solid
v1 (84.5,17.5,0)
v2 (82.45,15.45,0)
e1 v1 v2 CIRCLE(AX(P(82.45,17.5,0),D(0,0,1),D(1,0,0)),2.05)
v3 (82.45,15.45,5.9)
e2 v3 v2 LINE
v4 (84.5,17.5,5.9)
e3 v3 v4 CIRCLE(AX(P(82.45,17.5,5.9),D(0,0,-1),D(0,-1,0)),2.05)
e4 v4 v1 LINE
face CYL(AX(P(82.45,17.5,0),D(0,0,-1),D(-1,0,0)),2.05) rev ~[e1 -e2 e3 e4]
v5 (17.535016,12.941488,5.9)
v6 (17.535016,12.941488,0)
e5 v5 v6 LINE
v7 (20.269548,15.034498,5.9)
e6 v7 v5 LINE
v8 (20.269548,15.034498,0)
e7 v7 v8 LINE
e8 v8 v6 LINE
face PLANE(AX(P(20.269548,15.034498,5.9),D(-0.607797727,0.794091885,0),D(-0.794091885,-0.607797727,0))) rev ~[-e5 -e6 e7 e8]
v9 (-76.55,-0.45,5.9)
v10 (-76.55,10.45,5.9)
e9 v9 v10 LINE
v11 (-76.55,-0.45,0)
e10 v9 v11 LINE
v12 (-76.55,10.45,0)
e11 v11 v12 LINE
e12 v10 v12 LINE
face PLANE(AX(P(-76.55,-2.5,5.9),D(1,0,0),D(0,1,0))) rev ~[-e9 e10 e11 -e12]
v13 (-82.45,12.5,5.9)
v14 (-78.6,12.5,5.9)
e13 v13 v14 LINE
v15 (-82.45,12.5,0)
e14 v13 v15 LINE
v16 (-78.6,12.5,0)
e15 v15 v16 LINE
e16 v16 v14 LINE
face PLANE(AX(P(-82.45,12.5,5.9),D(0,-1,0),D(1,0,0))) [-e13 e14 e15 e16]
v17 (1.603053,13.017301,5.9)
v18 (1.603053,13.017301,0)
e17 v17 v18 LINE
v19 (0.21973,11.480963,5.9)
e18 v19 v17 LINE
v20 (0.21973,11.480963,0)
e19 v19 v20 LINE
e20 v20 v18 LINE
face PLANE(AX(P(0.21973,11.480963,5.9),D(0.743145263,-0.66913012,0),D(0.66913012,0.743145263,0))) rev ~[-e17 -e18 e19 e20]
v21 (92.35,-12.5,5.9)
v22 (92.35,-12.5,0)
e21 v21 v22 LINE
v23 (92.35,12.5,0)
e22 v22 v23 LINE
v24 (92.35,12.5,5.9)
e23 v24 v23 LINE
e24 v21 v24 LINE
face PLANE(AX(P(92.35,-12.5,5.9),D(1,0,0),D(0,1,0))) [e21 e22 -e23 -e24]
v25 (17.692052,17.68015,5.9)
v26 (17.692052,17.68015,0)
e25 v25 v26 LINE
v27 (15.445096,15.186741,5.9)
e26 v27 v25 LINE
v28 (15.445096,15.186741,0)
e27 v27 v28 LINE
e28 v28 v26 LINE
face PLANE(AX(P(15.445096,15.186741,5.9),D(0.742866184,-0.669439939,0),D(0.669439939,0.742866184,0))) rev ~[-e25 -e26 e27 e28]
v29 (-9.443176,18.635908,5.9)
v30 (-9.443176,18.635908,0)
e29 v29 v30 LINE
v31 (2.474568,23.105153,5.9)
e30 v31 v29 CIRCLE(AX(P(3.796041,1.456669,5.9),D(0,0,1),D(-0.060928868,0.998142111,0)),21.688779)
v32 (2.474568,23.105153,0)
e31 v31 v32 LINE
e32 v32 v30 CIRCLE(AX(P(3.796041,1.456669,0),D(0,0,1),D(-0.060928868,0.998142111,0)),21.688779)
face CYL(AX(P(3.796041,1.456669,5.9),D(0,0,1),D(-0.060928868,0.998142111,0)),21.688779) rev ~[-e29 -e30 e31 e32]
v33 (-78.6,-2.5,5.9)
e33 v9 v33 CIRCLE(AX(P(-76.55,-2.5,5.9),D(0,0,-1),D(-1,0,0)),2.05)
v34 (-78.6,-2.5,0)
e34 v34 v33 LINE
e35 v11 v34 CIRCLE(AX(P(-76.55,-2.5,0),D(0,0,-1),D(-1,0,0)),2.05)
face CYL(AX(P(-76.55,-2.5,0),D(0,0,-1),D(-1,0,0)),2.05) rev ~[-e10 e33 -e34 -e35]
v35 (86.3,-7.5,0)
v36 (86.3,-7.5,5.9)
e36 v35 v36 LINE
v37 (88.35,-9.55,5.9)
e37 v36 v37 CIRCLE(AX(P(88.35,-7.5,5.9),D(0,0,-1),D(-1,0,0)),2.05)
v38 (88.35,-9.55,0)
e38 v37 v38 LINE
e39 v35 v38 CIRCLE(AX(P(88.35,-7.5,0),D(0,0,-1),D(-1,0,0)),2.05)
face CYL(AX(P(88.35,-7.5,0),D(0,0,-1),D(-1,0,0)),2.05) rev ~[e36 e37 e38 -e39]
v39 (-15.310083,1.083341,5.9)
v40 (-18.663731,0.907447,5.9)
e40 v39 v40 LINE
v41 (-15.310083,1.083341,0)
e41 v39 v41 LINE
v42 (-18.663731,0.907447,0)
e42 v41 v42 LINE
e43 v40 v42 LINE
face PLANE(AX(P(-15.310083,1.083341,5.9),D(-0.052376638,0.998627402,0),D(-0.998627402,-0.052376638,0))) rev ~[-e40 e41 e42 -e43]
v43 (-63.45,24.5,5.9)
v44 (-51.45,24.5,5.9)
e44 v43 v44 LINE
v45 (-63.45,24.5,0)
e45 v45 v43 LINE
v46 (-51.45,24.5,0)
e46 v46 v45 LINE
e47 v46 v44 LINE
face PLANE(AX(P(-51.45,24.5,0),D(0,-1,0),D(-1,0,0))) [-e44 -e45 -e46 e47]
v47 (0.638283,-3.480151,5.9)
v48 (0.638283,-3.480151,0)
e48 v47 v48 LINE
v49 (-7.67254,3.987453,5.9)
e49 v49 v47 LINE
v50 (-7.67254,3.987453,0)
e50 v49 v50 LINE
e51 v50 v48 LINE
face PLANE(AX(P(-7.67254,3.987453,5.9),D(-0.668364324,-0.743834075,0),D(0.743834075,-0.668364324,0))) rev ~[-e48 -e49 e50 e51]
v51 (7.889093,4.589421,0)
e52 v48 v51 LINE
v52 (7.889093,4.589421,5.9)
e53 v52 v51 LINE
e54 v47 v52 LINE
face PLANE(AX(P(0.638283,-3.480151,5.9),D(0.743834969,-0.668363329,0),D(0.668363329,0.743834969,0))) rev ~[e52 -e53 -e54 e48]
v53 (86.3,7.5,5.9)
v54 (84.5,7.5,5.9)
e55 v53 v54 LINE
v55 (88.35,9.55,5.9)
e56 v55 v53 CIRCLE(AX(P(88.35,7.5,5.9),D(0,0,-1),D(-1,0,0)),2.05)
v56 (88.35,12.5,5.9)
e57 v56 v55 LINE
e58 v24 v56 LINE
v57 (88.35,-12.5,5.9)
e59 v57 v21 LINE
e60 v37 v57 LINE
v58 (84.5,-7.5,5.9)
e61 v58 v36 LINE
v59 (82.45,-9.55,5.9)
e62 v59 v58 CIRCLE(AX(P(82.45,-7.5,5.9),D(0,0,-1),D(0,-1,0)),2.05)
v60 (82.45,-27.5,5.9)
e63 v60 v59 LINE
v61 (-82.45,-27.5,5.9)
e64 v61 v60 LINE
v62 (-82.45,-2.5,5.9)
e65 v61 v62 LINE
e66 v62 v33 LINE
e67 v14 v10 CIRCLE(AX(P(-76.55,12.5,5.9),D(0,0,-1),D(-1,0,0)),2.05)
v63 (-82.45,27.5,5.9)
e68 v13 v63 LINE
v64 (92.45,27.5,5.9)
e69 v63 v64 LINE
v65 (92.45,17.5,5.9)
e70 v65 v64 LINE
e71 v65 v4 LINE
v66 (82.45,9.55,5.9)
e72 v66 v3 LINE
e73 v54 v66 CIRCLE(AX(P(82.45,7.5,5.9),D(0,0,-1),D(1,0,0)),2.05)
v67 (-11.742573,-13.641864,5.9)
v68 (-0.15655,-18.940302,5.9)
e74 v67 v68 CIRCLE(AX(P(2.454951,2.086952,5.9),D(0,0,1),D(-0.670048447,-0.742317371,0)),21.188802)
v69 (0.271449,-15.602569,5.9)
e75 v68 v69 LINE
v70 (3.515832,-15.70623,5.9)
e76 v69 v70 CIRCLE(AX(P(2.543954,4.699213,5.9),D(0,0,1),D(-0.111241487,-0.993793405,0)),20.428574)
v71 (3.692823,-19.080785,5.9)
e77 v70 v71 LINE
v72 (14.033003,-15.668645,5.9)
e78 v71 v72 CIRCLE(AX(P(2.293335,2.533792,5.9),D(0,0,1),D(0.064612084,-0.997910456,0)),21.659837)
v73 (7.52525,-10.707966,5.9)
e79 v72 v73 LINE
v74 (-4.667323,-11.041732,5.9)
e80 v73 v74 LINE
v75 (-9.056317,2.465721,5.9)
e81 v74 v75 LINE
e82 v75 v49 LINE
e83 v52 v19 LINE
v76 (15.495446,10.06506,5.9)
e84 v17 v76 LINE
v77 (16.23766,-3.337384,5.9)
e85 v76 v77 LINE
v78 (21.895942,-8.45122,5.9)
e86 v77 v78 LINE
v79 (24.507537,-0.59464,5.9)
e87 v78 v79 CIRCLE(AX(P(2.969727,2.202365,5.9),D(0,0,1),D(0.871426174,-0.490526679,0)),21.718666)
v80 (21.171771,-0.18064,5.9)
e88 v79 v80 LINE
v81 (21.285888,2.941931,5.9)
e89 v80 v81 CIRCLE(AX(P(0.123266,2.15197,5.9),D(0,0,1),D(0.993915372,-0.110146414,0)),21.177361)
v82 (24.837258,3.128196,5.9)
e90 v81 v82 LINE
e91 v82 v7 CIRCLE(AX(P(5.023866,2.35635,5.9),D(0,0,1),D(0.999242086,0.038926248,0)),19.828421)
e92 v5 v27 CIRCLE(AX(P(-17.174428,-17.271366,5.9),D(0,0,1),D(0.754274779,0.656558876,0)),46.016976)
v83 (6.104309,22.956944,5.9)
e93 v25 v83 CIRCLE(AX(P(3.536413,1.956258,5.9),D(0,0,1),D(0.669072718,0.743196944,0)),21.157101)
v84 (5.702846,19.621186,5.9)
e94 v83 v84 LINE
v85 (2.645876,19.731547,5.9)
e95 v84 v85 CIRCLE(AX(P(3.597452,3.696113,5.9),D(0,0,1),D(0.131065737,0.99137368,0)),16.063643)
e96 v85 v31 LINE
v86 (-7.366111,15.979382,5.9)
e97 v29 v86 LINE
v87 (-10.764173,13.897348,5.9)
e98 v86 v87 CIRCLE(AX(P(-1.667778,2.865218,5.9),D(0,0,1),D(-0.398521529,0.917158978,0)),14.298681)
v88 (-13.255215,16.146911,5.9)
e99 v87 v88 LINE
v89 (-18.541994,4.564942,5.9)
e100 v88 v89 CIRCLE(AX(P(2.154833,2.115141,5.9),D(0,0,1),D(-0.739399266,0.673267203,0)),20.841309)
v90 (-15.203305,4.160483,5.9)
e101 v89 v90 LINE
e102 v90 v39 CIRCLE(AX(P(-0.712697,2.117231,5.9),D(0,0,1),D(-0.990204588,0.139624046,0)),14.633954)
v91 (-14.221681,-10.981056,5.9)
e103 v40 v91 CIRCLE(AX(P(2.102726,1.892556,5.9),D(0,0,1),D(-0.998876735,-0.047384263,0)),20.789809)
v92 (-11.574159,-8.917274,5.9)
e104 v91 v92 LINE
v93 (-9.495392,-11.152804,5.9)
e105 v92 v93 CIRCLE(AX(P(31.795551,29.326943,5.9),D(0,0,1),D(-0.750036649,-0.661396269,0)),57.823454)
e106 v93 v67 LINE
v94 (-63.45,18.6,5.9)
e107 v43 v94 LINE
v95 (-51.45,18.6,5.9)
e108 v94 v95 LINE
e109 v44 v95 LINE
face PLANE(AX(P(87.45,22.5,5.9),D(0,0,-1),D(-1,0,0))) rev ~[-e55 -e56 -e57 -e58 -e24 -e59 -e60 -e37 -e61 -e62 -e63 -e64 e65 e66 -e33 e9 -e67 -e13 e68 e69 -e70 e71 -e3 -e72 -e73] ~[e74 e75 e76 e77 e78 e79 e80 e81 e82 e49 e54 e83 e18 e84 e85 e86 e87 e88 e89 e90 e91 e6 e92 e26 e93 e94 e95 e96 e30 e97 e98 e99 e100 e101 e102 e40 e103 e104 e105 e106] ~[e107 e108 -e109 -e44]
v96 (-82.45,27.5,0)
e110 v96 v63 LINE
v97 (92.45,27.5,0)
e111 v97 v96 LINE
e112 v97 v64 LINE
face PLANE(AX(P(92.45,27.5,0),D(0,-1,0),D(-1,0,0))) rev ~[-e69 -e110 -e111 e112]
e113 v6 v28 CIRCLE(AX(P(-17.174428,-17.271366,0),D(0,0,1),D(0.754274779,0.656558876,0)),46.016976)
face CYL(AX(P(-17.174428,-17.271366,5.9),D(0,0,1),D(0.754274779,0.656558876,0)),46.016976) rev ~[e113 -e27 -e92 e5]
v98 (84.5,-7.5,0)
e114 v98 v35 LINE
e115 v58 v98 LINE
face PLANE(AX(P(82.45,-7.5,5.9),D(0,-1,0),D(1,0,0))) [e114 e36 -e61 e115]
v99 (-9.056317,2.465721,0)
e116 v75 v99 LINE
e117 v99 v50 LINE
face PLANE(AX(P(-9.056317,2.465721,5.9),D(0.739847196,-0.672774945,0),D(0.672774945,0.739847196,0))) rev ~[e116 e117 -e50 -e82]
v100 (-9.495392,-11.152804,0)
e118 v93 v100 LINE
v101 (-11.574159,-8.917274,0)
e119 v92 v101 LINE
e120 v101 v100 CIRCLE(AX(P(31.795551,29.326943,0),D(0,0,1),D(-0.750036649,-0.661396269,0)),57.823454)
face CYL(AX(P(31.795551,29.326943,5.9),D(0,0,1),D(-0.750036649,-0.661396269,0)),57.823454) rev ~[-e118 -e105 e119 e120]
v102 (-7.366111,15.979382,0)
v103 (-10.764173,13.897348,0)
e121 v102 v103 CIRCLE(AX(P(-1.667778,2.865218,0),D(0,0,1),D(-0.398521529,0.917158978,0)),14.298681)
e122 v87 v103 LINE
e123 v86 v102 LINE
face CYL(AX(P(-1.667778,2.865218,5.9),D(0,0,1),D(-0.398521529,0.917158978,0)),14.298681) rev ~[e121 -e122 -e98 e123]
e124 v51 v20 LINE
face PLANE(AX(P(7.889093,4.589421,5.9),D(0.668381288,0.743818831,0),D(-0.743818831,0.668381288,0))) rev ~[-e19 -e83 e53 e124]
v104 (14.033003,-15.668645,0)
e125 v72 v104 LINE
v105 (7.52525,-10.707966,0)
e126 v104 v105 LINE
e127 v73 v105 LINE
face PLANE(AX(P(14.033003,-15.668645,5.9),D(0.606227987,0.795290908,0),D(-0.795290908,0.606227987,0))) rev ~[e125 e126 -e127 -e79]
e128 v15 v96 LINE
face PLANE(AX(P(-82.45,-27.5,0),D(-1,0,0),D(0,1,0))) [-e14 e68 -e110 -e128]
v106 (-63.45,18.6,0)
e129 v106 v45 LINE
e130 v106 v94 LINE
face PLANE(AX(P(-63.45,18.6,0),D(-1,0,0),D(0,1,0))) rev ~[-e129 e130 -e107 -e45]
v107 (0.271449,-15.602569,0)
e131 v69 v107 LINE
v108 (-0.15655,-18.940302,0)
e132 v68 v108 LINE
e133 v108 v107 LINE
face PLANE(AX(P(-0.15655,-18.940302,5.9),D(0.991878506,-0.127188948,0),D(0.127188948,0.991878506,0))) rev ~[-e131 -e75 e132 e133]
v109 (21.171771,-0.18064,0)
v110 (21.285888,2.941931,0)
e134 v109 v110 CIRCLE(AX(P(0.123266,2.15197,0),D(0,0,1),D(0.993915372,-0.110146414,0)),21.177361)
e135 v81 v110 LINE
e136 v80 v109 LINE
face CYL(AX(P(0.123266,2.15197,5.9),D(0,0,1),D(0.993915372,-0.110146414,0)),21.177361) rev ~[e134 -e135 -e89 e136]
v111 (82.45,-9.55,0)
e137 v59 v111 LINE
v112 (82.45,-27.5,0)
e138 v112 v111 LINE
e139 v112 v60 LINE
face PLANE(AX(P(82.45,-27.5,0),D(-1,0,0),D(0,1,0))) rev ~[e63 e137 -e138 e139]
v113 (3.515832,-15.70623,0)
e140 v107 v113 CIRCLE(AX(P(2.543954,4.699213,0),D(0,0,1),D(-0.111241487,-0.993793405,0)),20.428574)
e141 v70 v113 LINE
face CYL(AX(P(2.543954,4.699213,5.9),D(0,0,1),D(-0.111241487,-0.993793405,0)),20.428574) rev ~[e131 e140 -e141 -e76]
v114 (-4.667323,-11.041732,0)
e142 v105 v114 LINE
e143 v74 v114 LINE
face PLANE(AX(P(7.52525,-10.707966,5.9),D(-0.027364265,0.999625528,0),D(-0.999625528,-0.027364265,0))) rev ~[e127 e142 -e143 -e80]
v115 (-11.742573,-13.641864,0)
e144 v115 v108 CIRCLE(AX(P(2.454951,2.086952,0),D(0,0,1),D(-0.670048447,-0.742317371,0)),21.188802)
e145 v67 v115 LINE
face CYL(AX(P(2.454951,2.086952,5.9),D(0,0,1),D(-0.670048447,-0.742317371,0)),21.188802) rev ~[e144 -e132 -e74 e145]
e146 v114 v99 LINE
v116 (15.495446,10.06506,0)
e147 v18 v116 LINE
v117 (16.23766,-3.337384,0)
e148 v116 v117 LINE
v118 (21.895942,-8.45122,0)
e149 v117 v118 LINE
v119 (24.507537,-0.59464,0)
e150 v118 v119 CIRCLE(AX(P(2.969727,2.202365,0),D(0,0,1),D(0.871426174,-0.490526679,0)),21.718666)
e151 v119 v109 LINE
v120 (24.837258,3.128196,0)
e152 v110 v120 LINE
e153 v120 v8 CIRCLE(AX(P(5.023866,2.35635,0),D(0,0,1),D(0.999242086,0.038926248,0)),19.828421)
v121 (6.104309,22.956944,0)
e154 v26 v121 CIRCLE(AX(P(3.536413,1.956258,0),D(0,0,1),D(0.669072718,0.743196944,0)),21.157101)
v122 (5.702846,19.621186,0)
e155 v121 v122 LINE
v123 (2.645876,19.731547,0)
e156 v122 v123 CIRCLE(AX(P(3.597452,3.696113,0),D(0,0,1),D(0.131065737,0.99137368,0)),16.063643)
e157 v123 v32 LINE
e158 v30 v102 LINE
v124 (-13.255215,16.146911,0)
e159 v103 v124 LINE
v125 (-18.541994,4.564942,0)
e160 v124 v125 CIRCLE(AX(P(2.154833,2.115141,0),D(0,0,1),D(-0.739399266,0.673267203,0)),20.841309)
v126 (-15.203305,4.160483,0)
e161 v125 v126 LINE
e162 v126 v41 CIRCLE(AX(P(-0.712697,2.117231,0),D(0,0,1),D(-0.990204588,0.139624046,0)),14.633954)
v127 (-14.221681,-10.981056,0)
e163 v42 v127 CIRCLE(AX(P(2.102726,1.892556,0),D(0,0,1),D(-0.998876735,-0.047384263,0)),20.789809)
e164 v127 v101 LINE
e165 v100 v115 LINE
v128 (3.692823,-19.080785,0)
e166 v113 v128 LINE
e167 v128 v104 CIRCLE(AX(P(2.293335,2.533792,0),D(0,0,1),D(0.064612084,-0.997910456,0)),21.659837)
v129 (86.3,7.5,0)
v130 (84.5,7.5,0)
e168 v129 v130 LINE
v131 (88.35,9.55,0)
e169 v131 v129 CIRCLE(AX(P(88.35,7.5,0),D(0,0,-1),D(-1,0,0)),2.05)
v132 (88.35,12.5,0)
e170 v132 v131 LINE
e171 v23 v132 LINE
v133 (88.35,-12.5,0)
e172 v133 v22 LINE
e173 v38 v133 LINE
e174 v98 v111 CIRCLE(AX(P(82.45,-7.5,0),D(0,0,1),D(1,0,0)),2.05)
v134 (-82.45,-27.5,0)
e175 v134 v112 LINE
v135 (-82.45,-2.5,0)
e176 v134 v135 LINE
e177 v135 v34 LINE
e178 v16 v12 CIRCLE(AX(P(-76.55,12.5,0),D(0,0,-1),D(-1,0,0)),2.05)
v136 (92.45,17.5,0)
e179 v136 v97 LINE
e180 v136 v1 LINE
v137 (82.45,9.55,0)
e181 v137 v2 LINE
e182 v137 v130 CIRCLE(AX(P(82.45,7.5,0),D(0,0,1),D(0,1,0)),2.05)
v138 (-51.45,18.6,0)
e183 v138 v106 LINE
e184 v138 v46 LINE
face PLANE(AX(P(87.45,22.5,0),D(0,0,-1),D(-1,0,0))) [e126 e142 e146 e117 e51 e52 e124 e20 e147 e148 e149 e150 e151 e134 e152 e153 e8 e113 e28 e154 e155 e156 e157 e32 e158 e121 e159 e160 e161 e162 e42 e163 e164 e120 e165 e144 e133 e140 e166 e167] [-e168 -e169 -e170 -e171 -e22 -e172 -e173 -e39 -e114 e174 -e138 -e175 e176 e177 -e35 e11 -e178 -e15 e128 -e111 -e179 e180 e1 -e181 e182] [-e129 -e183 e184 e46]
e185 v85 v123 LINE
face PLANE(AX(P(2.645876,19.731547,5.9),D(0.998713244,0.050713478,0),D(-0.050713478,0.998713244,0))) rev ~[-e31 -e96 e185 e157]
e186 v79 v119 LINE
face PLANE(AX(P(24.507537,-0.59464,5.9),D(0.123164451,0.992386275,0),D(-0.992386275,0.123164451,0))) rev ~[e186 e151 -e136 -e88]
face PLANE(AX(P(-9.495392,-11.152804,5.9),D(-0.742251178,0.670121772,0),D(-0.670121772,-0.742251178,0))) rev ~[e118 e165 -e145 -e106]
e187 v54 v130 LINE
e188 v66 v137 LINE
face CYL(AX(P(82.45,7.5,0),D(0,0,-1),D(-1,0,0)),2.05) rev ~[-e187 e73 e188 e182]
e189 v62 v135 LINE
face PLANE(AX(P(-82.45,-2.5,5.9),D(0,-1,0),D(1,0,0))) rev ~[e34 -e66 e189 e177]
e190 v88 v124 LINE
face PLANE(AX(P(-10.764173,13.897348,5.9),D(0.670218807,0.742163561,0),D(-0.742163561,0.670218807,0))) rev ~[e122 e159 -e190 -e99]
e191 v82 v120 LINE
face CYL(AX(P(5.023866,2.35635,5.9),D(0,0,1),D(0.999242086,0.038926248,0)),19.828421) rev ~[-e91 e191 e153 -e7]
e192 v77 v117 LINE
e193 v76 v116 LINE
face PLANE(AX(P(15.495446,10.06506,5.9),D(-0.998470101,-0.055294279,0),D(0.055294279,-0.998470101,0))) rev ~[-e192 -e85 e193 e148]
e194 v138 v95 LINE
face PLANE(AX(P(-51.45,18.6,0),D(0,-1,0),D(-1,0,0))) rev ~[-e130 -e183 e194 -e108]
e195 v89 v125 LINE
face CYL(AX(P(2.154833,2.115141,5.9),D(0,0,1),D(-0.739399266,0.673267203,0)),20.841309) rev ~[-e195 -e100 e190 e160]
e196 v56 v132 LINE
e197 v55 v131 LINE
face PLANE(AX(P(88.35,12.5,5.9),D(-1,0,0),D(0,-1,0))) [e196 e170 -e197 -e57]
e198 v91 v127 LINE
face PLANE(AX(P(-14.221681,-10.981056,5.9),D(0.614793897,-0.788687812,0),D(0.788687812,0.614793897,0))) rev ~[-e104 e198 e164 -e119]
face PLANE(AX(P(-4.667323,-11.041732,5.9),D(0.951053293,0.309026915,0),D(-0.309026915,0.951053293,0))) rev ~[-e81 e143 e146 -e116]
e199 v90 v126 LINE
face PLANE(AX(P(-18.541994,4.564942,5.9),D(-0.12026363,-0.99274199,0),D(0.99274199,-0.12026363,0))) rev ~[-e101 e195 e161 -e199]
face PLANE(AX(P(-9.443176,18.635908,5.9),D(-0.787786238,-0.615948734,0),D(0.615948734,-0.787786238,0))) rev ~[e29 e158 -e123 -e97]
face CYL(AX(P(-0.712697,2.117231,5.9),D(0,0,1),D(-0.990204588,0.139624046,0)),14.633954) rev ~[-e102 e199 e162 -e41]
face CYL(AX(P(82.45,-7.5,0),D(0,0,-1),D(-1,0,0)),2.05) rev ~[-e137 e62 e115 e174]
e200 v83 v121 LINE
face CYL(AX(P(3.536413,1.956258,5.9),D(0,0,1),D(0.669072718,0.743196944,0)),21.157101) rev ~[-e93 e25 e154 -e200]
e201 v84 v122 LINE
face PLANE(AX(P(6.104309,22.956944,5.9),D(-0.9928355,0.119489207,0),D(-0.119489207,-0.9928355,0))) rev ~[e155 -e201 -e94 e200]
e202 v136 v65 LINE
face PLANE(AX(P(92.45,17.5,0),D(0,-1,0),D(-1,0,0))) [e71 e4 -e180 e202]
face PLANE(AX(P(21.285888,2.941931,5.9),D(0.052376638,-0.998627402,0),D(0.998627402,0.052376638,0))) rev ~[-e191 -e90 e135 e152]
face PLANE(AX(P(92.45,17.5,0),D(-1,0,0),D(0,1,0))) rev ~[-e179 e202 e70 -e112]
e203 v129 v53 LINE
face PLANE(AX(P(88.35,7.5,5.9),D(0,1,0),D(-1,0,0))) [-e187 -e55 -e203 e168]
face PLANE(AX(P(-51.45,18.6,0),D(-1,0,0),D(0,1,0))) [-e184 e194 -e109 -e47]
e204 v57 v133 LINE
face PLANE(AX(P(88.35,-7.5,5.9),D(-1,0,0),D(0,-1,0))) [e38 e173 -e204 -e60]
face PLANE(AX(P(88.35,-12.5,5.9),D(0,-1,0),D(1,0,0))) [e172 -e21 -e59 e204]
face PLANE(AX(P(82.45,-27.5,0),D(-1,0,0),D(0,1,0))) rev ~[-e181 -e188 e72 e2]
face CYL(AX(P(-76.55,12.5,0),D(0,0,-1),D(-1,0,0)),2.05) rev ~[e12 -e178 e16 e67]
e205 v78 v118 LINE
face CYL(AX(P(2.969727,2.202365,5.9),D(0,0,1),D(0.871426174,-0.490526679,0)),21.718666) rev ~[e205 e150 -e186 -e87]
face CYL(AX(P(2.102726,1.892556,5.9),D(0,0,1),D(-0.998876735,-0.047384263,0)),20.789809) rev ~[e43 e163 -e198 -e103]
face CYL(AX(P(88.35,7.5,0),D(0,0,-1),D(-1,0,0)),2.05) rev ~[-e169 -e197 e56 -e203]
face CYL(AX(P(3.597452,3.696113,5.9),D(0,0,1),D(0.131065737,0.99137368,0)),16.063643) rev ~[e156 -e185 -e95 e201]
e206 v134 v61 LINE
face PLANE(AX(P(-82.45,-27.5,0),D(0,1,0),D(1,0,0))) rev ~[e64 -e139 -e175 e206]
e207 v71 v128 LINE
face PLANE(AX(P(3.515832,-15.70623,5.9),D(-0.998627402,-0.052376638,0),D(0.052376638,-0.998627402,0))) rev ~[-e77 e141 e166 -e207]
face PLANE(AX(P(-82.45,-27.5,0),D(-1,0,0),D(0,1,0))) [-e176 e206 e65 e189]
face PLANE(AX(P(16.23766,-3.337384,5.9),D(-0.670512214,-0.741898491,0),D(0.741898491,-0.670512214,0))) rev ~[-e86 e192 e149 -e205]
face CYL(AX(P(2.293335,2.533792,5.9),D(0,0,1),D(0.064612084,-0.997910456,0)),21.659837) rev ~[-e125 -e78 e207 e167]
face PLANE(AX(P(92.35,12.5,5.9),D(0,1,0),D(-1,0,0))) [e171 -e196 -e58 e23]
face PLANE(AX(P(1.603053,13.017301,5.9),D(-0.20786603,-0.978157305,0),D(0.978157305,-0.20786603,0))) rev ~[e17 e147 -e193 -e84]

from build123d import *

# Parameters (mm, degrees)
SKETCH1_W           = 164.9
SKETCH1_H           = 55
BOSS_EXTRUDE1_DEPTH = 5.9
SKETCH2_W           = 5.9
SKETCH2_H           = 15
CUT_EXTRUDE1_DEPTH  = 6.9
BOSS_EXTRUDE2_DEPTH = 5.9
CUT_EXTRUDE2_DEPTH  = 10
SKETCH5_W           = 10
SKETCH5_H           = 10
BOSS_EXTRUDE3_DEPTH = 5.9
CUT_EXTRUDE3_REACH  = 7.9
SKETCH6_R           = 2.05
CUT_EXTRUDE4_REACH  = 7.9
SKETCH7_W           = 12
SKETCH7_H           = 5.9


with BuildPart() as part:
    # Sketch1 → Boss-Extrude1 (new body)
    with BuildSketch(Plane.XY):
        Rectangle(SKETCH1_W, SKETCH1_H)
    extrude(amount=BOSS_EXTRUDE1_DEPTH)

    # Sketch2 → Cut-Extrude1 (cut, through all)
    with BuildSketch(Plane.XY.offset(5.9)):
        with Locations((-79.5, 5)):
            Rectangle(SKETCH2_W, SKETCH2_H)
    extrude(amount=-CUT_EXTRUDE1_DEPTH, mode=Mode.SUBTRACT)

    # Sketch3 → Boss-Extrude2 (add)
    with BuildSketch(Plane.XY.offset(5.9)):
        Polygon((82.45, -7.5), (88.35, -7.5), (88.35, -12.5), (92.35, -12.5), (92.35, 12.5), (88.35, 12.5), (88.35, 7.5), (82.45, 7.5), align=None)
    extrude(amount=-BOSS_EXTRUDE2_DEPTH)

    # Sketch4 → Cut-Extrude2 (cut)
    with BuildSketch(Plane.XY.offset(5.9)):
        with BuildLine():
            Line((3.51583171, -15.706229716), (3.692822505, -19.080784973))
            ThreePointArc((3.692822505, -19.080784973), (9.080825588, -18.035079597), (14.033003188, -15.668644733))
            Line((14.033003188, -15.668644733), (7.525249631, -10.707966449))
            Line((7.525249631, -10.707966449), (-4.667323255, -11.041732232))
            Line((-4.667323255, -11.041732232), (-9.056316648, 2.465721032))
            Line((-9.056316648, 2.465721032), (-7.672540361, 3.987452797))
            Line((-7.672540361, 3.987452797), (0.63828327, -3.480150804))
            Line((0.63828327, -3.480150804), (7.889093057, 4.589420993))
            Line((7.889093057, 4.589420993), (0.219729645, 11.480963368))
            Line((0.219729645, 11.480963368), (1.603052795, 13.017301391))
            Line((1.603052795, 13.017301391), (15.495445969, 10.065059871))
            Line((15.495445969, 10.065059871), (16.237659976, -3.337384453))
            Line((16.237659976, -3.337384453), (21.895941701, -8.451220184))
            ThreePointArc((21.895941701, -8.451220184), (23.579573726, -4.648525456), (24.507536721, -0.594639829))
            Line((24.507536721, -0.594639829), (21.171770806, -0.180639971))
            ThreePointArc((21.171770806, -0.180639971), (21.286498935, 1.378538101), (21.285888417, 2.941931343))
            Line((21.285888417, 2.941931343), (24.837258291, 3.128195824))
            ThreePointArc((24.837258291, 3.128195824), (23.536690781, 9.458573353), (20.269548114, 15.034497878))
            Line((20.269548114, 15.034497878), (17.535016414, 12.941488009))
            ThreePointArc((17.535016414, 12.941488009), (16.508769514, 14.081533134), (15.445096221, 15.186741129))
            Line((15.445096221, 15.186741129), (17.692052457, 17.680150482))
            ThreePointArc((17.692052457, 17.680150482), (12.304554027, 21.210935864), (6.104308905, 22.956944215))
            Line((6.104308905, 22.956944215), (5.70284553, 19.6211861))
            ThreePointArc((5.70284553, 19.6211861), (4.176993745, 19.749298528), (2.645876068, 19.73154678))
            Line((2.645876068, 19.73154678), (2.474568352, 23.105152619))
            ThreePointArc((2.474568352, 23.105152619), (-3.819532601, 21.764454936), (-9.443176471, 18.635907879))
            Line((-9.443176471, 18.635907879), (-7.36611055, 15.97938168))
            ThreePointArc((-7.36611055, 15.97938168), (-9.138032671, 15.057329352), (-10.764172697, 13.897347837))
            Line((-10.764172697, 13.897347837), (-13.255215364, 16.14691078))
            ThreePointArc((-13.255215364, 16.14691078), (-16.804652941, 10.7695067), (-18.541993583, 4.564941506))
            Line((-18.541993583, 4.564941506), (-15.203305308, 4.160483172))
            ThreePointArc((-15.203305308, 4.160483172), (-15.337848427, 2.624728095), (-15.310082988, 1.083340867))
            Line((-15.310082988, 1.083340867), (-18.663730537, 0.907446652))
            ThreePointArc((-18.663730537, 0.907446652), (-17.372056658, -5.384049821), (-14.221680713, -10.981056224))
            Line((-14.221680713, -10.981056224), (-11.574159014, -8.917273625))
            ThreePointArc((-11.574159014, -8.917273625), (-10.549530454, -10.048759249), (-9.495391581, -11.15280392))
            Line((-9.495391581, -11.15280392), (-11.74257315, -13.641863724))
            ThreePointArc((-11.74257315, -13.641863724), (-6.357210629, -17.182483384), (-0.156549988, -18.940301546))
            Line((-0.156549988, -18.940301546), (0.271448667, -15.602569205))
            ThreePointArc((0.271448667, -15.602569205), (1.891578011, -15.718941802), (3.51583171, -15.706229716))
        make_face()
    extrude(amount=-CUT_EXTRUDE2_DEPTH, mode=Mode.SUBTRACT)

    # Sketch5 → Boss-Extrude3 (add)
    with BuildSketch(Plane(origin=(0, 0, 0), x_dir=(-1, 0, 0), z_dir=(0, 0, -1))):
        with Locations((-87.45, 22.5)):
            Rectangle(SKETCH5_W, SKETCH5_H)
    extrude(amount=-BOSS_EXTRUDE3_DEPTH)

    # Sketch6 → Cut-Extrude3 (cut, up to next)
    with BuildSketch(Plane(origin=(0, 0, 0), x_dir=(-1, 0, 0), z_dir=(0, 0, -1)), mode=Mode.PRIVATE) as cut_extrude3_sk1:
        with Locations((-82.45, -7.5)):
            Circle(SKETCH6_R)
    cut_extrude3_tool1 = extrude(cut_extrude3_sk1.sketch, amount=-CUT_EXTRUDE3_REACH, mode=Mode.PRIVATE) & part.part
    add(cut_extrude3_tool1.solids().sort_by_distance((82.45, -7.5, 0))[0], mode=Mode.SUBTRACT)
    # Sketch6 → Cut-Extrude3 (cut, up to next)
    with BuildSketch(Plane(origin=(0, 0, 0), x_dir=(-1, 0, 0), z_dir=(0, 0, -1)), mode=Mode.PRIVATE) as cut_extrude3_sk2:
        with Locations((-88.35, -7.5)):
            Circle(SKETCH6_R)
    cut_extrude3_tool2 = extrude(cut_extrude3_sk2.sketch, amount=-CUT_EXTRUDE3_REACH, mode=Mode.PRIVATE) & part.part
    add(cut_extrude3_tool2.solids().sort_by_distance((88.35, -7.5, 0))[0], mode=Mode.SUBTRACT)
    # Sketch6 → Cut-Extrude3 (cut, up to next)
    with BuildSketch(Plane(origin=(0, 0, 0), x_dir=(-1, 0, 0), z_dir=(0, 0, -1)), mode=Mode.PRIVATE) as cut_extrude3_sk3:
        with Locations((-88.35, 7.5)):
            Circle(SKETCH6_R)
    cut_extrude3_tool3 = extrude(cut_extrude3_sk3.sketch, amount=-CUT_EXTRUDE3_REACH, mode=Mode.PRIVATE) & part.part
    add(cut_extrude3_tool3.solids().sort_by_distance((88.35, 7.5, 0))[0], mode=Mode.SUBTRACT)
    # Sketch6 → Cut-Extrude3 (cut, up to next)
    with BuildSketch(Plane(origin=(0, 0, 0), x_dir=(-1, 0, 0), z_dir=(0, 0, -1)), mode=Mode.PRIVATE) as cut_extrude3_sk4:
        with Locations((-82.45, 7.5)):
            Circle(SKETCH6_R)
    cut_extrude3_tool4 = extrude(cut_extrude3_sk4.sketch, amount=-CUT_EXTRUDE3_REACH, mode=Mode.PRIVATE) & part.part
    add(cut_extrude3_tool4.solids().sort_by_distance((82.45, 7.5, 0))[0], mode=Mode.SUBTRACT)
    # Sketch6 → Cut-Extrude3 (cut, up to next)
    with BuildSketch(Plane(origin=(0, 0, 0), x_dir=(-1, 0, 0), z_dir=(0, 0, -1)), mode=Mode.PRIVATE) as cut_extrude3_sk5:
        with Locations((-82.45, 17.5)):
            Circle(SKETCH6_R)
    cut_extrude3_tool5 = extrude(cut_extrude3_sk5.sketch, amount=-CUT_EXTRUDE3_REACH, mode=Mode.PRIVATE) & part.part
    add(cut_extrude3_tool5.solids().sort_by_distance((82.45, 17.5, 0))[0], mode=Mode.SUBTRACT)
    # Sketch6 → Cut-Extrude3 (cut, up to next)
    with BuildSketch(Plane(origin=(0, 0, 0), x_dir=(-1, 0, 0), z_dir=(0, 0, -1)), mode=Mode.PRIVATE) as cut_extrude3_sk6:
        with Locations((76.55, 12.5)):
            Circle(SKETCH6_R)
    cut_extrude3_tool6 = extrude(cut_extrude3_sk6.sketch, amount=-CUT_EXTRUDE3_REACH, mode=Mode.PRIVATE) & part.part
    add(cut_extrude3_tool6.solids().sort_by_distance((-76.55, 12.5, 0))[0], mode=Mode.SUBTRACT)
    # Sketch6 → Cut-Extrude3 (cut, up to next)
    with BuildSketch(Plane(origin=(0, 0, 0), x_dir=(-1, 0, 0), z_dir=(0, 0, -1)), mode=Mode.PRIVATE) as cut_extrude3_sk7:
        with Locations((76.55, -2.5)):
            Circle(SKETCH6_R)
    cut_extrude3_tool7 = extrude(cut_extrude3_sk7.sketch, amount=-CUT_EXTRUDE3_REACH, mode=Mode.PRIVATE) & part.part
    add(cut_extrude3_tool7.solids().sort_by_distance((-76.55, -2.5, 0))[0], mode=Mode.SUBTRACT)

    # Sketch7 → Cut-Extrude4 (cut, up to next)
    with BuildSketch(Plane(origin=(0, 0, 0), x_dir=(-1, 0, 0), z_dir=(0, 0, -1)), mode=Mode.PRIVATE) as cut_extrude4_sk1:
        with Locations((57.45, 21.55)):
            Rectangle(SKETCH7_W, SKETCH7_H)
    cut_extrude4_tool1 = extrude(cut_extrude4_sk1.sketch, amount=-CUT_EXTRUDE4_REACH, mode=Mode.PRIVATE) & part.part
    add(cut_extrude4_tool1.solids().sort_by_distance((-57.45, 21.55, 0))[0], mode=Mode.SUBTRACT)


solid = part.part
